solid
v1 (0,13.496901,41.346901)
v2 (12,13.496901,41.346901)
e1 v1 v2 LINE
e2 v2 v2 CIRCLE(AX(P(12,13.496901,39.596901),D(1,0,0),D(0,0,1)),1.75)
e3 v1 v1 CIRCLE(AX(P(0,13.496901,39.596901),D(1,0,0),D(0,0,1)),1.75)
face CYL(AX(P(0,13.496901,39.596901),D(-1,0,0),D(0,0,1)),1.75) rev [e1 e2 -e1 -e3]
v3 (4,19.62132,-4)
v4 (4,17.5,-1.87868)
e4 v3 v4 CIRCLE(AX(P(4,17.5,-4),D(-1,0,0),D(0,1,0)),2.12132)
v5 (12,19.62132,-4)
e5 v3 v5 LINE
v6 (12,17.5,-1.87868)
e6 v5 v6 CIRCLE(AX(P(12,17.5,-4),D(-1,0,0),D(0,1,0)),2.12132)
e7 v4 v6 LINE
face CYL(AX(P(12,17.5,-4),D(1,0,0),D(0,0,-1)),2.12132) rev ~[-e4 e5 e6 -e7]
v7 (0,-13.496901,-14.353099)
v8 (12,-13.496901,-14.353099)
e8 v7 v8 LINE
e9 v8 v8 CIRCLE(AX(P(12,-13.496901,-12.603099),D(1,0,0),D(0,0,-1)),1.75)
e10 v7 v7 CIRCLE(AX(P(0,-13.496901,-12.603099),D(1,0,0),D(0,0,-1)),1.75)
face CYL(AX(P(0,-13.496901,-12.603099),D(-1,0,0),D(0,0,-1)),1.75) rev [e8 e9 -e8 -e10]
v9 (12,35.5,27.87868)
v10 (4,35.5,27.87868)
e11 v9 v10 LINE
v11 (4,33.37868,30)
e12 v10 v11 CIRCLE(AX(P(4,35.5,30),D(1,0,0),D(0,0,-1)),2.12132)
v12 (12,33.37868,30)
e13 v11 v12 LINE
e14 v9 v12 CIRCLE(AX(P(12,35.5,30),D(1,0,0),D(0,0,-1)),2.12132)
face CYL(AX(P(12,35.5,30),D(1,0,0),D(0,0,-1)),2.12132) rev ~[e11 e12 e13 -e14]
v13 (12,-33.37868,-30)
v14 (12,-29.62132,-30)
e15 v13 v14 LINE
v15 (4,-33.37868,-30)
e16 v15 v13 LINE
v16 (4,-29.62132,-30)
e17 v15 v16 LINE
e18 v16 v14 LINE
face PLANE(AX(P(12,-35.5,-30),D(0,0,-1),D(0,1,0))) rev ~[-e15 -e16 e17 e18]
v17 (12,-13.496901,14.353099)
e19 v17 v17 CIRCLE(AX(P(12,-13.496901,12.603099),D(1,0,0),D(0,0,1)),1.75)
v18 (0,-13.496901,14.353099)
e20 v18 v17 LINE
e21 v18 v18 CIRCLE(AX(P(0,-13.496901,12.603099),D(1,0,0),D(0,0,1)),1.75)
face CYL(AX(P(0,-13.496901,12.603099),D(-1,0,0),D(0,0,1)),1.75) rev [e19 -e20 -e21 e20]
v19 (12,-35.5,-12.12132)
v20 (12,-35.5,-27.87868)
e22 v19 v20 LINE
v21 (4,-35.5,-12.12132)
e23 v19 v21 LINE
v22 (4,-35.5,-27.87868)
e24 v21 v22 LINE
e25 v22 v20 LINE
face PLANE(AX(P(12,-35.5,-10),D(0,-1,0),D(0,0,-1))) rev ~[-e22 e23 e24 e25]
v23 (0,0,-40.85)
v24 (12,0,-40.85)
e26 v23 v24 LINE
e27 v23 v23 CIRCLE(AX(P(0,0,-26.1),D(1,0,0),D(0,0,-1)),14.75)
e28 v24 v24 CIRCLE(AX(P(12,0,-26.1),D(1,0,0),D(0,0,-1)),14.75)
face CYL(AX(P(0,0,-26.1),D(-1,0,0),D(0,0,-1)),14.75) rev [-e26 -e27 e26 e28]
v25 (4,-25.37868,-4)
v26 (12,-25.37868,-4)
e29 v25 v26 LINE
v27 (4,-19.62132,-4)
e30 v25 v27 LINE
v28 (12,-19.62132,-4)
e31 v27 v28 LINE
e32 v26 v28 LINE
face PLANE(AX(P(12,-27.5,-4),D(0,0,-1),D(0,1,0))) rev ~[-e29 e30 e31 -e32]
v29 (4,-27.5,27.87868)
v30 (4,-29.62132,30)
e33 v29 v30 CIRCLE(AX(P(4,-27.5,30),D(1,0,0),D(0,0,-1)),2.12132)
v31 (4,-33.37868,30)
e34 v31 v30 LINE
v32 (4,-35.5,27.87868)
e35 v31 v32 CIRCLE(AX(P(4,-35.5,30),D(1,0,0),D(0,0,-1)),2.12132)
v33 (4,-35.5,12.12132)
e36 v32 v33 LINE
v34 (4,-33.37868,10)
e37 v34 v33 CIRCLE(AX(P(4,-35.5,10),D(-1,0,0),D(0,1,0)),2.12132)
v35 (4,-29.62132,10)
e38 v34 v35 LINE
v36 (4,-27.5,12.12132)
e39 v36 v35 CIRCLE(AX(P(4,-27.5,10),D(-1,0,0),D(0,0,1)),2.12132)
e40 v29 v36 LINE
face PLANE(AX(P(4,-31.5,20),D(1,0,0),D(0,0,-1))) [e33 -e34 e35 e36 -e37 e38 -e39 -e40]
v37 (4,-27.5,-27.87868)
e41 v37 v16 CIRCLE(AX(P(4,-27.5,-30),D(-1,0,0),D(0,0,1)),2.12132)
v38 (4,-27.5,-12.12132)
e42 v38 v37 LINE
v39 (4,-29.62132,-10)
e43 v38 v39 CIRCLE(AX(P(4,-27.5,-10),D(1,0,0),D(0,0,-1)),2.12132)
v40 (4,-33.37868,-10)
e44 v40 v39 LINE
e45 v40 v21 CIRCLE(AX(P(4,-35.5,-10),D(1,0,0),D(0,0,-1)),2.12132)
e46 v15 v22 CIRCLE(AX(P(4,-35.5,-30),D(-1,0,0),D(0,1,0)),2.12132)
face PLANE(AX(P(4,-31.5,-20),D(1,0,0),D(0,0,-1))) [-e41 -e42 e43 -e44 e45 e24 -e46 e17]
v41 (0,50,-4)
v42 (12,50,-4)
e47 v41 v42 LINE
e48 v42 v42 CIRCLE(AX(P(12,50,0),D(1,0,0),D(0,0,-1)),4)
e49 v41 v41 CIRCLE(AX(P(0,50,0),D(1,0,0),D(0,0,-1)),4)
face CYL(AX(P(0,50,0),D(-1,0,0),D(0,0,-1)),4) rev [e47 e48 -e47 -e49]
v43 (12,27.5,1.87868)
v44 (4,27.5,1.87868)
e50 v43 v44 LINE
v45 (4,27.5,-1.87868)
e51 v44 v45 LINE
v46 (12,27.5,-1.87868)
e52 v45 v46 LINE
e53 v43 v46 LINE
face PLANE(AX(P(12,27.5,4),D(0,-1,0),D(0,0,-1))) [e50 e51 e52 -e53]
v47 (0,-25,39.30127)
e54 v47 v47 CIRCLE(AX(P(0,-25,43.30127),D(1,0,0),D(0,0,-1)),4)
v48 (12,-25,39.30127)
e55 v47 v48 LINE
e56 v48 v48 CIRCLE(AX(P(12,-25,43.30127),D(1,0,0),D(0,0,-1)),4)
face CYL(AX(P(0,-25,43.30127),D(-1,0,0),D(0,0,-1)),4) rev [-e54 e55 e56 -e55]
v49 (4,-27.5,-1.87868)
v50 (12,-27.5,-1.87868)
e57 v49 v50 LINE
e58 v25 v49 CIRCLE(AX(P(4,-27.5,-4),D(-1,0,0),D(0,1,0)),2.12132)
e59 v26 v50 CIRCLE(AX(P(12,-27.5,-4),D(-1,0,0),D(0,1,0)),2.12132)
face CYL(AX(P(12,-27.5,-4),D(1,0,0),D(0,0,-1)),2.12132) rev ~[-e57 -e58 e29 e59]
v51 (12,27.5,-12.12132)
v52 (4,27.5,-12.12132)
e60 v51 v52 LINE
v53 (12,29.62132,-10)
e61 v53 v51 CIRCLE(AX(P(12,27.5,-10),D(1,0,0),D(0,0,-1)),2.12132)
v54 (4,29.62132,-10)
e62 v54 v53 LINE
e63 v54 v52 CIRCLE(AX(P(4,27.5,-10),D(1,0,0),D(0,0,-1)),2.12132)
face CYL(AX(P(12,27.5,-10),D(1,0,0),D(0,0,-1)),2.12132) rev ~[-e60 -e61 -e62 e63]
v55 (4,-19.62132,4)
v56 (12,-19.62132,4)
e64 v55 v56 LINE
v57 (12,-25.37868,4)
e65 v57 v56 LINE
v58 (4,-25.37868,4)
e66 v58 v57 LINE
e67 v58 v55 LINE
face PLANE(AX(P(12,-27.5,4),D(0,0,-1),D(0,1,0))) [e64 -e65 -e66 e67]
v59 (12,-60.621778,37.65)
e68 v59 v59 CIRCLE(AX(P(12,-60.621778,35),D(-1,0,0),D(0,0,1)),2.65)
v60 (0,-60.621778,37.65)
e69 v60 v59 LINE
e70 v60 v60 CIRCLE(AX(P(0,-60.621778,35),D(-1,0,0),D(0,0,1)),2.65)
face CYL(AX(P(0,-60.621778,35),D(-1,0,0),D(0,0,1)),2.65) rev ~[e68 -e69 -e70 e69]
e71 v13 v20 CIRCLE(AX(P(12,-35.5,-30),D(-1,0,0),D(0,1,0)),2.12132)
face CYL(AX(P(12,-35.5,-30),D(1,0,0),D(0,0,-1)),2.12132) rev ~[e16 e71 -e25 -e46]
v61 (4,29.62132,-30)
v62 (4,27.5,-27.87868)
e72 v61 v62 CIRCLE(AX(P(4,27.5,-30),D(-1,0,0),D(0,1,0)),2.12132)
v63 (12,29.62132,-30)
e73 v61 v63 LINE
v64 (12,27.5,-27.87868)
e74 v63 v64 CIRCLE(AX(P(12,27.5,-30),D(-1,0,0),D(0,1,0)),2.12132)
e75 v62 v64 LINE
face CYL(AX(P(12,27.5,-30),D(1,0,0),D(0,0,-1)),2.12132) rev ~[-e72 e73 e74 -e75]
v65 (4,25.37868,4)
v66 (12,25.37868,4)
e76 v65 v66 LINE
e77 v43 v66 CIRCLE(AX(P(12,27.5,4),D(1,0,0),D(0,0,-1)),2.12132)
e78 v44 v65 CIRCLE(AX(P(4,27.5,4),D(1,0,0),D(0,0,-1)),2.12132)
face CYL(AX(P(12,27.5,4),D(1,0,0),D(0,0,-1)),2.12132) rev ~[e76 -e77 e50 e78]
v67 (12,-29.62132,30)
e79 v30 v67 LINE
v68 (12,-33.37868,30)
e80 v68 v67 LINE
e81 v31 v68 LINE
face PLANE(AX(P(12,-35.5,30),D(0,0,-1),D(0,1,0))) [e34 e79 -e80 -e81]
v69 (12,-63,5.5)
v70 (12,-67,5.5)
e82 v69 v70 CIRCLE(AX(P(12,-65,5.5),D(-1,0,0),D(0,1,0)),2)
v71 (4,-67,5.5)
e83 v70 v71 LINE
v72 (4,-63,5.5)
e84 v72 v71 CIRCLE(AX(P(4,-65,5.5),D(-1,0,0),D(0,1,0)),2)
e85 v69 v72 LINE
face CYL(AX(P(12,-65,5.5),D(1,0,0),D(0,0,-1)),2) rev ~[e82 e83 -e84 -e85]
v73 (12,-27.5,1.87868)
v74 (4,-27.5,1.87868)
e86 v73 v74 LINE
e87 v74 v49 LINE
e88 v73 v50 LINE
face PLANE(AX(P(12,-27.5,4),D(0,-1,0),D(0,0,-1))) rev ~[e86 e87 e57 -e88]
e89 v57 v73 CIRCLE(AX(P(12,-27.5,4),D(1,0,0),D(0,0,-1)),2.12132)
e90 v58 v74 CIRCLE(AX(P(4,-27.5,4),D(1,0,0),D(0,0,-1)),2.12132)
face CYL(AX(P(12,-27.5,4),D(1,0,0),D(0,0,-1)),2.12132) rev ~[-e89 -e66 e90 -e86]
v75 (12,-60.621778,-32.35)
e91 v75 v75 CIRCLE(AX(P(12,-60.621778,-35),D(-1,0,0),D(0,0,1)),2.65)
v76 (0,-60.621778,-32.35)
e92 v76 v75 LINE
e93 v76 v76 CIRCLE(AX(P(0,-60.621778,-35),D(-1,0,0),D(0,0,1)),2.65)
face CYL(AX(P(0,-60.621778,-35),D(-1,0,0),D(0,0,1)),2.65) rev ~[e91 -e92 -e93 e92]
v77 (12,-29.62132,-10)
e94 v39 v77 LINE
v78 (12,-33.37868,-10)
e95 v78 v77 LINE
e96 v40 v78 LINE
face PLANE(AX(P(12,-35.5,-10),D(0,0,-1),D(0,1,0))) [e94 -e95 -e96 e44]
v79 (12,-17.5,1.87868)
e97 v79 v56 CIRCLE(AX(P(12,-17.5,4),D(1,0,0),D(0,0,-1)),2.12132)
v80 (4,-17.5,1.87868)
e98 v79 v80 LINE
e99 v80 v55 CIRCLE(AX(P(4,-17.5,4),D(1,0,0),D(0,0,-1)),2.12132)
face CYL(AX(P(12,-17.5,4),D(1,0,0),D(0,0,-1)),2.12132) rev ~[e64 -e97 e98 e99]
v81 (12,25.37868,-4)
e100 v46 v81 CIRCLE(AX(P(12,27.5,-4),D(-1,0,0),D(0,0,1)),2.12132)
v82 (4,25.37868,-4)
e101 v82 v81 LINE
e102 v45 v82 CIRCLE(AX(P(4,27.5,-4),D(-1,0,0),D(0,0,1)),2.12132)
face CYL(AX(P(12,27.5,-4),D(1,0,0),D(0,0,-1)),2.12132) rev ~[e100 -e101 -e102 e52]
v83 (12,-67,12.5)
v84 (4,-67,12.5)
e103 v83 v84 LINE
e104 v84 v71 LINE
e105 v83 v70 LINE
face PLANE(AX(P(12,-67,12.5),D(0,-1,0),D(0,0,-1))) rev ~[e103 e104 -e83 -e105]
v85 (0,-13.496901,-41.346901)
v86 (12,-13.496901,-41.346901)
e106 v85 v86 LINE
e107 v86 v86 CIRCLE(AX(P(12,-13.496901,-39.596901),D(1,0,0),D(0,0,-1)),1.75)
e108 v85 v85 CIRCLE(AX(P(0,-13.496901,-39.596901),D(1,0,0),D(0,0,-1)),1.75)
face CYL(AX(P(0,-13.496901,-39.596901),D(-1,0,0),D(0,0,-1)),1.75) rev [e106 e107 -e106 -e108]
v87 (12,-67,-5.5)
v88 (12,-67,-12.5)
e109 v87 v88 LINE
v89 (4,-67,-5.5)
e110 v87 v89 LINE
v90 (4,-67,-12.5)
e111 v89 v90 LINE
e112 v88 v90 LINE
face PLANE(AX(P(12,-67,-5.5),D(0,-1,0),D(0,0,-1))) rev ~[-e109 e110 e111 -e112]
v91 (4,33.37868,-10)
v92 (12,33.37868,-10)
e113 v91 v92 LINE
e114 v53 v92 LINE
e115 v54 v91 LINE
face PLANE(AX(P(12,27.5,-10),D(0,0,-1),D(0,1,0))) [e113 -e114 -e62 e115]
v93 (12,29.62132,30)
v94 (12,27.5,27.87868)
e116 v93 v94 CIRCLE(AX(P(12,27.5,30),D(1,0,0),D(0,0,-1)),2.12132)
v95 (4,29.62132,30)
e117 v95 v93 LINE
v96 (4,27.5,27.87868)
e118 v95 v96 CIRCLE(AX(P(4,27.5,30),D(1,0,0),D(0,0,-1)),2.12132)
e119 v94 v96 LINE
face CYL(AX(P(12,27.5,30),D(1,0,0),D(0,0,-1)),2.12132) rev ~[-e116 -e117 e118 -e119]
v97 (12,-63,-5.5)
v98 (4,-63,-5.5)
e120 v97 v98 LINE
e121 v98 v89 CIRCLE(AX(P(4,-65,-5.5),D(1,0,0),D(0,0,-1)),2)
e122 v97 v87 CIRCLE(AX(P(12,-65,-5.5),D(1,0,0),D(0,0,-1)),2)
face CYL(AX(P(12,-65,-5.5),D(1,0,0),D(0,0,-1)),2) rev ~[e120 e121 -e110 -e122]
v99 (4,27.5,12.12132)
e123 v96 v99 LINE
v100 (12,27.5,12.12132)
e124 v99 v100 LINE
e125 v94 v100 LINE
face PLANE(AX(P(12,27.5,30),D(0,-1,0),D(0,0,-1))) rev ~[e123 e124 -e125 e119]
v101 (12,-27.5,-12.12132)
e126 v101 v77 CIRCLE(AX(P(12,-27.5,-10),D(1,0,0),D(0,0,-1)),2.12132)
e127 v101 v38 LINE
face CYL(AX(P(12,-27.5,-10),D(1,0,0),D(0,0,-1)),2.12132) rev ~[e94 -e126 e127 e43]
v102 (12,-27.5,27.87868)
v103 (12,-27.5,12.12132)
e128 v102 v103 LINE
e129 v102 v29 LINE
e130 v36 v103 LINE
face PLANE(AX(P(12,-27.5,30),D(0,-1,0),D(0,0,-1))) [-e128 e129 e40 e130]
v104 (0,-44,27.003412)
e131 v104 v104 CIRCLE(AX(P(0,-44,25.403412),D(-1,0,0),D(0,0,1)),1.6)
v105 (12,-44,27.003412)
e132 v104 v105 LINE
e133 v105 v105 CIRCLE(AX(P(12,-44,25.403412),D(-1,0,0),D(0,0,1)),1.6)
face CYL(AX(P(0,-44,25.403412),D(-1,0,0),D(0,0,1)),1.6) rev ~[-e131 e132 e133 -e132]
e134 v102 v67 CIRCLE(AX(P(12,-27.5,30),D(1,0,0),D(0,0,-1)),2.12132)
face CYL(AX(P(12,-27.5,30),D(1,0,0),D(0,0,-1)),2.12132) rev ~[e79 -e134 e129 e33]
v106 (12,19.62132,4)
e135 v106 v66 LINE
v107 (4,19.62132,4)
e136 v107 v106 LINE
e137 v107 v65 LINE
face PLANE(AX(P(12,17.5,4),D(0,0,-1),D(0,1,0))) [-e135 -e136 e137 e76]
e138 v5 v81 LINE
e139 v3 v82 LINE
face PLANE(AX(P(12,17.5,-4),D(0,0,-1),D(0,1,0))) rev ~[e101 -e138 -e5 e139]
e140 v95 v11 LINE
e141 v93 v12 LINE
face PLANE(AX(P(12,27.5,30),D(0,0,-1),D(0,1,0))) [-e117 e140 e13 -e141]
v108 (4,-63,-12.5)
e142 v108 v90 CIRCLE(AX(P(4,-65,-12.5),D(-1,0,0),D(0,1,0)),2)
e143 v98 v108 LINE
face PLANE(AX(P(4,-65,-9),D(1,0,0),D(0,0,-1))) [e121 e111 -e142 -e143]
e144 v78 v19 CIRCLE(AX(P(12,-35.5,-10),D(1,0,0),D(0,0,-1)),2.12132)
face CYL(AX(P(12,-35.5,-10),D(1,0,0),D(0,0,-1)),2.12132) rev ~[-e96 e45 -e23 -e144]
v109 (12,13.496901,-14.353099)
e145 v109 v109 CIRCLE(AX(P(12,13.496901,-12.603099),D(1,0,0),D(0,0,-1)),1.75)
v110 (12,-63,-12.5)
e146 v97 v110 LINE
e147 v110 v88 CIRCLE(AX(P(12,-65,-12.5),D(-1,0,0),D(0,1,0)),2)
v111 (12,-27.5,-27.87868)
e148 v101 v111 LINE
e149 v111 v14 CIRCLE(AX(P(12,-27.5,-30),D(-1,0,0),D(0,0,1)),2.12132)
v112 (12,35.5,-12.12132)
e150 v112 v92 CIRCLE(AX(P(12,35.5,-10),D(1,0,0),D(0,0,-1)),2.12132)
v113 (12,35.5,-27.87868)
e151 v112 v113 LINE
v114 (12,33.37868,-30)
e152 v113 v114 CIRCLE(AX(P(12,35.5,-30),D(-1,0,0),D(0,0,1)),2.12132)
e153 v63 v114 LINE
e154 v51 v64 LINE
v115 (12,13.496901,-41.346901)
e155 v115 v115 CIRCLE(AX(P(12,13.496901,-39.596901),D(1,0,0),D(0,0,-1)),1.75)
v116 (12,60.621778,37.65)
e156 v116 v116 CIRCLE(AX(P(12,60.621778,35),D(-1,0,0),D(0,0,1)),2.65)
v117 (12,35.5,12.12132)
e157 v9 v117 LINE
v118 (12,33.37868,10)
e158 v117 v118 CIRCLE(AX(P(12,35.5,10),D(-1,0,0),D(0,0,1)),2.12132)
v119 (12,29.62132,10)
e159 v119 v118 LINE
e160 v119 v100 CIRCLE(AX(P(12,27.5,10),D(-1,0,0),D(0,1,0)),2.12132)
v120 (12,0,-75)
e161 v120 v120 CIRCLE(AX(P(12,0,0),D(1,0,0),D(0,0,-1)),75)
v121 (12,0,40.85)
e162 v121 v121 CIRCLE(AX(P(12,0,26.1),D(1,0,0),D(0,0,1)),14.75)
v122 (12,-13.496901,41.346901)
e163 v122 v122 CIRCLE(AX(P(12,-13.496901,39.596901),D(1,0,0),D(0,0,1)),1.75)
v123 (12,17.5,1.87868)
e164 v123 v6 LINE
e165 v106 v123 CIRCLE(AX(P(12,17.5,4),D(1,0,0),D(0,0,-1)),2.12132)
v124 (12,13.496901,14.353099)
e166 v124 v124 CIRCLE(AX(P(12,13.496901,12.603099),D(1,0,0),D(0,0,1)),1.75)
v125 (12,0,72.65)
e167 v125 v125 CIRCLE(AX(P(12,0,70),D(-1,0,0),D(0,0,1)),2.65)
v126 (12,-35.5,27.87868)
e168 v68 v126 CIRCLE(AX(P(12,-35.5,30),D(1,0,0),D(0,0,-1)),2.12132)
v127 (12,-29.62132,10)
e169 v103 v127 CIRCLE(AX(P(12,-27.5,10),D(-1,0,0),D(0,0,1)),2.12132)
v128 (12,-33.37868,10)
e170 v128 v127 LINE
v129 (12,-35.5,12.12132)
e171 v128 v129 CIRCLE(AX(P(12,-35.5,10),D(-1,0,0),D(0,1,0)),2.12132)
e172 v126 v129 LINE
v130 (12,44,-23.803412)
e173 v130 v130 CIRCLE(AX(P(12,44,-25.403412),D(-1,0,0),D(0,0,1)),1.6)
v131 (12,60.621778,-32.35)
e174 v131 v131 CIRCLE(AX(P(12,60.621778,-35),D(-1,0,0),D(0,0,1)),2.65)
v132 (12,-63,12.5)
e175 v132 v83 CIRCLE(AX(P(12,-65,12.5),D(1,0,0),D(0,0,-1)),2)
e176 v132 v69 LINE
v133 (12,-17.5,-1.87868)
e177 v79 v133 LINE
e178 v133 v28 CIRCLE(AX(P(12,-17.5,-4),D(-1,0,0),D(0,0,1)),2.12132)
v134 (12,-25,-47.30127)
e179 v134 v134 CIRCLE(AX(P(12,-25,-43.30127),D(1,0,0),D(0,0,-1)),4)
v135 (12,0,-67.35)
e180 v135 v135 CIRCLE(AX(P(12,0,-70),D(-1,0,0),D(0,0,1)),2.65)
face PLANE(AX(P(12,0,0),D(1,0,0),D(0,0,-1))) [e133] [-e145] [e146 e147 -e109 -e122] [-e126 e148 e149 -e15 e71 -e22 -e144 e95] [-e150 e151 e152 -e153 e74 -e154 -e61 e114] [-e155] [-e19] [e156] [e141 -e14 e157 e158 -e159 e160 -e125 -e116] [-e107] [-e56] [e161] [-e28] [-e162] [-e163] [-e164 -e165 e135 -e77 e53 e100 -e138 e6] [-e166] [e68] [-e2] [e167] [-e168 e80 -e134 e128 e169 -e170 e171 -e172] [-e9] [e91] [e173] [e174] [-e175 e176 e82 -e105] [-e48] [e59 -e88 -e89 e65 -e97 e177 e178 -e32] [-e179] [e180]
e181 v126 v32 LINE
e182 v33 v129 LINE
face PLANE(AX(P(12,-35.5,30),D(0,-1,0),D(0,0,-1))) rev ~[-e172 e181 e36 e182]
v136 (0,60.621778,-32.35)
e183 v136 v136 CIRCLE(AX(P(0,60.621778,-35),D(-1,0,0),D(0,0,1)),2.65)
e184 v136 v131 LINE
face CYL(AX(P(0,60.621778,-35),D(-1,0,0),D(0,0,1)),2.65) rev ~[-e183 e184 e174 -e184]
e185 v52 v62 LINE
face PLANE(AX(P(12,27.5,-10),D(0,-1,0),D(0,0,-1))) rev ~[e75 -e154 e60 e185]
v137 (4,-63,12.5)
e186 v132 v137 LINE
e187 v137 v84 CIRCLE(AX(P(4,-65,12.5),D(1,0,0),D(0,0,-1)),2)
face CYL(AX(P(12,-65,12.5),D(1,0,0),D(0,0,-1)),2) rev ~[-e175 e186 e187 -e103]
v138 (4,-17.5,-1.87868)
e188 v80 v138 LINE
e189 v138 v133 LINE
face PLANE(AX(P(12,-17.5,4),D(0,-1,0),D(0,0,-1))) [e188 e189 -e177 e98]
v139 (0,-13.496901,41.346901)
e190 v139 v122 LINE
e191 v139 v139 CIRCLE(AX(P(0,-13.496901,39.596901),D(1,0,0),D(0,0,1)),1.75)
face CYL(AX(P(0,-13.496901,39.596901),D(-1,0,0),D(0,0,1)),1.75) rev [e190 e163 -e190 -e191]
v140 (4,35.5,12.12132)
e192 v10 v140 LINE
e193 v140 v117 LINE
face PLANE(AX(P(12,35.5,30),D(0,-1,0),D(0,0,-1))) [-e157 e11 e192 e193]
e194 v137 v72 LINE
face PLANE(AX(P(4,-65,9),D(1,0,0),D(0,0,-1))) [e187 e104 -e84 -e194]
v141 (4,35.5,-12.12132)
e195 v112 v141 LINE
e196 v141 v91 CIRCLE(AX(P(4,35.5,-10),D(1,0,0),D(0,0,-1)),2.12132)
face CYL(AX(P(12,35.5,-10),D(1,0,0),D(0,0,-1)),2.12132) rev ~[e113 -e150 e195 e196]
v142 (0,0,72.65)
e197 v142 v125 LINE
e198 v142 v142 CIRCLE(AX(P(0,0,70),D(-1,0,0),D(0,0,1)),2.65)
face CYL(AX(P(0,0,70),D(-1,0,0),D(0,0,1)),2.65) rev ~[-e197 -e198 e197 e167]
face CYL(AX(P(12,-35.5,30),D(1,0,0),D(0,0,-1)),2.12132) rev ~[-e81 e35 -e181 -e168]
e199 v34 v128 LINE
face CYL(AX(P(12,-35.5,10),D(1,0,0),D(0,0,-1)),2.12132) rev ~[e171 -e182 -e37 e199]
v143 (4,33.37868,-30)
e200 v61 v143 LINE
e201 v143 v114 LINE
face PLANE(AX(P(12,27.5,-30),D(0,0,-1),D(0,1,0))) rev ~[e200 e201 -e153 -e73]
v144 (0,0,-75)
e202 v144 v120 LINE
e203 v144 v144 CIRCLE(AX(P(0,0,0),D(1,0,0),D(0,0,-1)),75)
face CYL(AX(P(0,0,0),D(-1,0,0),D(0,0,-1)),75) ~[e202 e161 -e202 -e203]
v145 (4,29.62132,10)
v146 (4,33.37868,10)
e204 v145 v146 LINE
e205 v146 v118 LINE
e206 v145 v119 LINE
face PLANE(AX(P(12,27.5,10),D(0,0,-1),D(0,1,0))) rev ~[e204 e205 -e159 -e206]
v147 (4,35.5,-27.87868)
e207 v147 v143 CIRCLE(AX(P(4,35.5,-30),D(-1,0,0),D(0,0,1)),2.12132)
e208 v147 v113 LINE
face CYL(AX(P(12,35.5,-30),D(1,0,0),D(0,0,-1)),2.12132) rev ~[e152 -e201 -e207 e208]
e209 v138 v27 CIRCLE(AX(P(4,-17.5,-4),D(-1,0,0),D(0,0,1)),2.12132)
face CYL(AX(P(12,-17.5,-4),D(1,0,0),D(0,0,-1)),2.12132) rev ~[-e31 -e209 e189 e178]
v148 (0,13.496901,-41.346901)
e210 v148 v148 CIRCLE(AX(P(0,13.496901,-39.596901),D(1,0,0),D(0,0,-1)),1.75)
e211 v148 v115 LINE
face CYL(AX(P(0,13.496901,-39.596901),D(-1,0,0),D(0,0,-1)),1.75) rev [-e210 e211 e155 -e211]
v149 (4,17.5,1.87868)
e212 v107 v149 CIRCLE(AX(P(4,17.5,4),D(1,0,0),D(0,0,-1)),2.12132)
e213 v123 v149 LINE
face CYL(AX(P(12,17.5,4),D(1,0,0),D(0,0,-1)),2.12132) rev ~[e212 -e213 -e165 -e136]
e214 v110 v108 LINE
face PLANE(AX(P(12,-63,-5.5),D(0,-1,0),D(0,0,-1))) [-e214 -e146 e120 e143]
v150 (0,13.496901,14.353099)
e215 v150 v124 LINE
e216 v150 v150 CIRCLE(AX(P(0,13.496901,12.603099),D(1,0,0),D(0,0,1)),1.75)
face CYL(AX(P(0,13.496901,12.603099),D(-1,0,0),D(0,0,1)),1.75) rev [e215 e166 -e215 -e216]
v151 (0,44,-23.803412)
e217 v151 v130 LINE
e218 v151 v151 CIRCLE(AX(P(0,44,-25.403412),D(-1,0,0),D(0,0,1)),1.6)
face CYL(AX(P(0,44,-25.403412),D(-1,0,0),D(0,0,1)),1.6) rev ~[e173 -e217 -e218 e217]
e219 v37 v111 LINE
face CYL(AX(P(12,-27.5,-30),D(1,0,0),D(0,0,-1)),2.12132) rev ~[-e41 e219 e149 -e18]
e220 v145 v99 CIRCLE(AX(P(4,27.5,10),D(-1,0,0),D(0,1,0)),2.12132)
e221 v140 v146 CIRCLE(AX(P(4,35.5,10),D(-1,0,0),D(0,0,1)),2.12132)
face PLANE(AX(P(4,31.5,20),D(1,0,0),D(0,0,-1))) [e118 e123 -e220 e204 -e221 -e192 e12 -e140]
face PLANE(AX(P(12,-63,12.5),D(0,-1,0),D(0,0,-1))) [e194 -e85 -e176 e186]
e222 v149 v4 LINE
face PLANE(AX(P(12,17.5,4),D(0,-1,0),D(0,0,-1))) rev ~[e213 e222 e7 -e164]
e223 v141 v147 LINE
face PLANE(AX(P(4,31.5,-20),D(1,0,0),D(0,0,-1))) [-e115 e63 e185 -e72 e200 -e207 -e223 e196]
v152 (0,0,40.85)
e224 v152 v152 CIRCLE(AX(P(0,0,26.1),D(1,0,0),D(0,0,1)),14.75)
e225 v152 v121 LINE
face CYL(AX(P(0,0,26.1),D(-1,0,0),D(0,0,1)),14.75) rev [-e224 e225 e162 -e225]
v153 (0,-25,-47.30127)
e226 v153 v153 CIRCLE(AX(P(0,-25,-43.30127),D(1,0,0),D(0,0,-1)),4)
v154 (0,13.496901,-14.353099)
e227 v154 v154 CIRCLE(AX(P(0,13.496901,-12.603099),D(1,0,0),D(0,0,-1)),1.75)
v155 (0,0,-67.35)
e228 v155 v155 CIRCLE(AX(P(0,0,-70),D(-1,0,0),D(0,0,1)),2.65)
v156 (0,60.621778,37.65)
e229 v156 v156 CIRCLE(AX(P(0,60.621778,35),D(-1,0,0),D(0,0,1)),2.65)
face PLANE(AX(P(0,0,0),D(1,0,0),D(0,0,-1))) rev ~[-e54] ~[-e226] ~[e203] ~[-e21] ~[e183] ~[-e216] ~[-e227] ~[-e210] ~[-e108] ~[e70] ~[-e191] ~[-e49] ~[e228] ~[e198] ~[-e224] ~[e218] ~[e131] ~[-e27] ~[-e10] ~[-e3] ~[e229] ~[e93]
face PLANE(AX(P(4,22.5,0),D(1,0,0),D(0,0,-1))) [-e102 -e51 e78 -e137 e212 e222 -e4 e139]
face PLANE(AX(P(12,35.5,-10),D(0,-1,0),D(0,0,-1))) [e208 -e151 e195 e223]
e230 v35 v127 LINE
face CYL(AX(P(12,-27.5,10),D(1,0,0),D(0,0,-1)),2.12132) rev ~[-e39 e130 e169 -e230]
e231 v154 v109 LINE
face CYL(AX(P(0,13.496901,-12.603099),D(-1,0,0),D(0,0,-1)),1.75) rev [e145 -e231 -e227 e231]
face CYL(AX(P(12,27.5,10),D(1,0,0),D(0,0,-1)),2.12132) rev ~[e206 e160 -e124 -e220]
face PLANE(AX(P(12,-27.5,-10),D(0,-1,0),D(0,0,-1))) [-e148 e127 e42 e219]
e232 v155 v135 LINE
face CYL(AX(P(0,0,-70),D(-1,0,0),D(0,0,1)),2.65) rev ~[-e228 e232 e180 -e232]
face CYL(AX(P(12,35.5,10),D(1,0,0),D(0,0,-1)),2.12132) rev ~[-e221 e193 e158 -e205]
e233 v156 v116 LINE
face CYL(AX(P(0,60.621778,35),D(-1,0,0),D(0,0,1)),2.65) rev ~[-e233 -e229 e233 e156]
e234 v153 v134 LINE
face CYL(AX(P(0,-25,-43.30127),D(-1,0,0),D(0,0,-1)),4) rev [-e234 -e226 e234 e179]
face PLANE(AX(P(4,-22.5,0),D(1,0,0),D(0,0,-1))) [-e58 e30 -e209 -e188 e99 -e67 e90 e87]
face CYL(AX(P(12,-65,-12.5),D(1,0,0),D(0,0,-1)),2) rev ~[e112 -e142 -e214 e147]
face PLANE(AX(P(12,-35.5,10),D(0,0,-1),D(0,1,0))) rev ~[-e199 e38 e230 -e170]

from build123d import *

# Parameters (mm, degrees)
SKETCH1_R           = 75
SKETCH1_R_2         = 4
SKETCH1_R_3         = 14.75
SKETCH1_R_4         = 1.75
BOSS_EXTRUDE1_DEPTH = 12
SKETCH2_W           = 20
SKETCH2_H           = 8
SKETCH2_W_2         = 8
SKETCH2_H_2         = 10
SKETCH2_W_3         = 7
SKETCH2_H_3         = 4
CUT_EXTRUDE1_DEPTH  = 8
CUT_EXTRUDE2_REACH  = 108.743
SKETCH3_R           = 2.65
SKETCH4_R           = 2.121320344
SKETCH4_R_2         = 2
CUT_EXTRUDE3_DEPTH  = 8
CUT_EXTRUDE4_REACH  = 108.743
SKETCH5_R           = 1.6


with BuildPart() as part:
    # Sketch1 → Boss-Extrude1 (new body)
    with BuildSketch(Plane(origin=(0, 0, 0), x_dir=(0, 0, -1), z_dir=(1, 0, 0))):
        Circle(SKETCH1_R)
        with Locations((0, 50)):
            Circle(SKETCH1_R_2, mode=Mode.SUBTRACT)
        with Locations((43.301270189, -25)):
            Circle(SKETCH1_R_2, mode=Mode.SUBTRACT)
        with Locations((-43.301270189, -25)):
            Circle(SKETCH1_R_2, mode=Mode.SUBTRACT)
        with Locations((26.1, 0)):
            Circle(SKETCH1_R_3, mode=Mode.SUBTRACT)
        with Locations(Location((-26.1, 0, 0), (0, 0, 180))):
            Circle(SKETCH1_R_3, mode=Mode.SUBTRACT)
        with Locations((39.596900686, 13.496900686)):
            Circle(SKETCH1_R_4, mode=Mode.SUBTRACT)
        with Locations((39.596900686, -13.496900686)):
            Circle(SKETCH1_R_4, mode=Mode.SUBTRACT)
        with Locations((12.603099314, -13.496900686)):
            Circle(SKETCH1_R_4, mode=Mode.SUBTRACT)
        with Locations((12.603099314, 13.496900686)):
            Circle(SKETCH1_R_4, mode=Mode.SUBTRACT)
        with Locations(Location((-39.596900686, -13.496900686, 0), (0, 0, 180))):
            Circle(SKETCH1_R_4, mode=Mode.SUBTRACT)
        with Locations(Location((-12.603099314, -13.496900686, 0), (0, 0, 180))):
            Circle(SKETCH1_R_4, mode=Mode.SUBTRACT)
        with Locations(Location((-12.603099314, 13.496900686, 0), (0, 0, 180))):
            Circle(SKETCH1_R_4, mode=Mode.SUBTRACT)
        with Locations(Location((-39.596900686, 13.496900686, 0), (0, 0, 180))):
            Circle(SKETCH1_R_4, mode=Mode.SUBTRACT)
    extrude(amount=BOSS_EXTRUDE1_DEPTH)

    # Sketch2 → Cut-Extrude1 (cut)
    with BuildSketch(Plane(origin=(12, 0, 0), x_dir=(0, 0, -1), z_dir=(1, 0, 0))):
        with Locations((20, -31.5)):
            Rectangle(SKETCH2_W, SKETCH2_H)
        with Locations((-20, -31.5)):
            Rectangle(SKETCH2_W, SKETCH2_H)
        with Locations((-20, 31.5)):
            Rectangle(SKETCH2_W, SKETCH2_H)
        with Locations((20, 31.5)):
            Rectangle(SKETCH2_W, SKETCH2_H)
        with Locations((0, -22.5)):
            Rectangle(SKETCH2_W_2, SKETCH2_H_2)
        with Locations((0, 22.5)):
            Rectangle(SKETCH2_W_2, SKETCH2_H_2)
        with Locations((-9, -65)):
            Rectangle(SKETCH2_W_3, SKETCH2_H_3)
        with Locations((9, -65)):
            Rectangle(SKETCH2_W_3, SKETCH2_H_3)
    extrude(amount=-CUT_EXTRUDE1_DEPTH, mode=Mode.SUBTRACT)

    # Sketch3 → Cut-Extrude2 (cut, up to next)
    with BuildSketch(Plane.ZY, mode=Mode.PRIVATE) as cut_extrude2_sk1:
        with Locations((-70, 0)):
            Circle(SKETCH3_R)
    cut_extrude2_tool1 = extrude(cut_extrude2_sk1.sketch, amount=-CUT_EXTRUDE2_REACH, mode=Mode.PRIVATE) & part.part
    # Sketch3 → Cut-Extrude2 (cut, up to next)
    with BuildSketch(Plane.ZY, mode=Mode.PRIVATE) as cut_extrude2_sk2:
        with Locations((-35, 60.621778265)):
            Circle(SKETCH3_R)
    cut_extrude2_tool2 = extrude(cut_extrude2_sk2.sketch, amount=-CUT_EXTRUDE2_REACH, mode=Mode.PRIVATE) & part.part
    # Sketch3 → Cut-Extrude2 (cut, up to next)
    with BuildSketch(Plane.ZY, mode=Mode.PRIVATE) as cut_extrude2_sk3:
        with Locations((35, 60.621778265)):
            Circle(SKETCH3_R)
    cut_extrude2_tool3 = extrude(cut_extrude2_sk3.sketch, amount=-CUT_EXTRUDE2_REACH, mode=Mode.PRIVATE) & part.part
    # Sketch3 → Cut-Extrude2 (cut, up to next)
    with BuildSketch(Plane.ZY, mode=Mode.PRIVATE) as cut_extrude2_sk4:
        with Locations((70, 0)):
            Circle(SKETCH3_R)
    cut_extrude2_tool4 = extrude(cut_extrude2_sk4.sketch, amount=-CUT_EXTRUDE2_REACH, mode=Mode.PRIVATE) & part.part
    # Sketch3 → Cut-Extrude2 (cut, up to next)
    with BuildSketch(Plane.ZY, mode=Mode.PRIVATE) as cut_extrude2_sk5:
        with Locations((35, -60.621778265)):
            Circle(SKETCH3_R)
    cut_extrude2_tool5 = extrude(cut_extrude2_sk5.sketch, amount=-CUT_EXTRUDE2_REACH, mode=Mode.PRIVATE) & part.part
    # Sketch3 → Cut-Extrude2 (cut, up to next)
    with BuildSketch(Plane.ZY, mode=Mode.PRIVATE) as cut_extrude2_sk6:
        with Locations((-35, -60.621778265)):
            Circle(SKETCH3_R)
    cut_extrude2_tool6 = extrude(cut_extrude2_sk6.sketch, amount=-CUT_EXTRUDE2_REACH, mode=Mode.PRIVATE) & part.part
    add(cut_extrude2_tool1.solids().sort_by_distance((0, 0, -70))[0], mode=Mode.SUBTRACT)
    add(cut_extrude2_tool2.solids().sort_by_distance((0, 60.621778, -35))[0], mode=Mode.SUBTRACT)
    add(cut_extrude2_tool3.solids().sort_by_distance((0, 60.621778, 35))[0], mode=Mode.SUBTRACT)
    add(cut_extrude2_tool4.solids().sort_by_distance((0, 0, 70))[0], mode=Mode.SUBTRACT)
    add(cut_extrude2_tool5.solids().sort_by_distance((0, -60.621778, 35))[0], mode=Mode.SUBTRACT)
    add(cut_extrude2_tool6.solids().sort_by_distance((0, -60.621778, -35))[0], mode=Mode.SUBTRACT)

    # Sketch4 → Cut-Extrude3 (cut)
    with BuildSketch(Plane(origin=(12, 0, 0), x_dir=(0, 0, -1), z_dir=(1, 0, 0))):
        with Locations((-10, -35.5)):
            Circle(SKETCH4_R)
        with Locations((-10, -27.5)):
            Circle(SKETCH4_R)
        with Locations((-30, -27.5)):
            Circle(SKETCH4_R)
        with Locations((-30, -35.5)):
            Circle(SKETCH4_R)
        with Locations((12.5, -65)):
            Circle(SKETCH4_R_2)
        with Locations((5.5, -65)):
            Circle(SKETCH4_R_2)
        with Locations((-5.5, -65)):
            Circle(SKETCH4_R_2)
        with Locations((-12.5, -65)):
            Circle(SKETCH4_R_2)
        with Locations((10, -35.5)):
            Circle(SKETCH4_R)
        with Locations((10, -27.5)):
            Circle(SKETCH4_R)
        with Locations((30, -27.5)):
            Circle(SKETCH4_R)
        with Locations((30, -35.5)):
            Circle(SKETCH4_R)
        with Locations((4, -27.5)):
            Circle(SKETCH4_R)
        with Locations((-4, -27.5)):
            Circle(SKETCH4_R)
        with Locations((-4, -17.5)):
            Circle(SKETCH4_R)
        with Locations((4, -17.5)):
            Circle(SKETCH4_R)
        with Locations((4, 27.5)):
            Circle(SKETCH4_R)
        with Locations((-4, 27.5)):
            Circle(SKETCH4_R)
        with Locations((-4, 17.5)):
            Circle(SKETCH4_R)
        with Locations((4, 17.5)):
            Circle(SKETCH4_R)
        with Locations((10, 27.5)):
            Circle(SKETCH4_R)
        with Locations((10, 35.5)):
            Circle(SKETCH4_R)
        with Locations((30, 35.5)):
            Circle(SKETCH4_R)
        with Locations((30, 27.5)):
            Circle(SKETCH4_R)
        with Locations((-10, 35.5)):
            Circle(SKETCH4_R)
        with Locations((-10, 27.5)):
            Circle(SKETCH4_R)
        with Locations((-30, 27.5)):
            Circle(SKETCH4_R)
        with Locations((-30, 35.5)):
            Circle(SKETCH4_R)
    extrude(amount=-CUT_EXTRUDE3_DEPTH, mode=Mode.SUBTRACT)

    # Sketch5 → Cut-Extrude4 (cut, up to next)
    with BuildSketch(Plane.ZY, mode=Mode.PRIVATE) as cut_extrude4_sk1:
        with Locations((25.403411844, -44)):
            Circle(SKETCH5_R)
    cut_extrude4_tool1 = extrude(cut_extrude4_sk1.sketch, amount=-CUT_EXTRUDE4_REACH, mode=Mode.PRIVATE) & part.part
    # Sketch5 → Cut-Extrude4 (cut, up to next)
    with BuildSketch(Plane.ZY, mode=Mode.PRIVATE) as cut_extrude4_sk2:
        with Locations((-25.403411844, 44)):
            Circle(SKETCH5_R)
    cut_extrude4_tool2 = extrude(cut_extrude4_sk2.sketch, amount=-CUT_EXTRUDE4_REACH, mode=Mode.PRIVATE) & part.part
    add(cut_extrude4_tool1.solids().sort_by_distance((0, -44, 25.403412))[0], mode=Mode.SUBTRACT)
    add(cut_extrude4_tool2.solids().sort_by_distance((0, 44, -25.403412))[0], mode=Mode.SUBTRACT)


solid = part.part
